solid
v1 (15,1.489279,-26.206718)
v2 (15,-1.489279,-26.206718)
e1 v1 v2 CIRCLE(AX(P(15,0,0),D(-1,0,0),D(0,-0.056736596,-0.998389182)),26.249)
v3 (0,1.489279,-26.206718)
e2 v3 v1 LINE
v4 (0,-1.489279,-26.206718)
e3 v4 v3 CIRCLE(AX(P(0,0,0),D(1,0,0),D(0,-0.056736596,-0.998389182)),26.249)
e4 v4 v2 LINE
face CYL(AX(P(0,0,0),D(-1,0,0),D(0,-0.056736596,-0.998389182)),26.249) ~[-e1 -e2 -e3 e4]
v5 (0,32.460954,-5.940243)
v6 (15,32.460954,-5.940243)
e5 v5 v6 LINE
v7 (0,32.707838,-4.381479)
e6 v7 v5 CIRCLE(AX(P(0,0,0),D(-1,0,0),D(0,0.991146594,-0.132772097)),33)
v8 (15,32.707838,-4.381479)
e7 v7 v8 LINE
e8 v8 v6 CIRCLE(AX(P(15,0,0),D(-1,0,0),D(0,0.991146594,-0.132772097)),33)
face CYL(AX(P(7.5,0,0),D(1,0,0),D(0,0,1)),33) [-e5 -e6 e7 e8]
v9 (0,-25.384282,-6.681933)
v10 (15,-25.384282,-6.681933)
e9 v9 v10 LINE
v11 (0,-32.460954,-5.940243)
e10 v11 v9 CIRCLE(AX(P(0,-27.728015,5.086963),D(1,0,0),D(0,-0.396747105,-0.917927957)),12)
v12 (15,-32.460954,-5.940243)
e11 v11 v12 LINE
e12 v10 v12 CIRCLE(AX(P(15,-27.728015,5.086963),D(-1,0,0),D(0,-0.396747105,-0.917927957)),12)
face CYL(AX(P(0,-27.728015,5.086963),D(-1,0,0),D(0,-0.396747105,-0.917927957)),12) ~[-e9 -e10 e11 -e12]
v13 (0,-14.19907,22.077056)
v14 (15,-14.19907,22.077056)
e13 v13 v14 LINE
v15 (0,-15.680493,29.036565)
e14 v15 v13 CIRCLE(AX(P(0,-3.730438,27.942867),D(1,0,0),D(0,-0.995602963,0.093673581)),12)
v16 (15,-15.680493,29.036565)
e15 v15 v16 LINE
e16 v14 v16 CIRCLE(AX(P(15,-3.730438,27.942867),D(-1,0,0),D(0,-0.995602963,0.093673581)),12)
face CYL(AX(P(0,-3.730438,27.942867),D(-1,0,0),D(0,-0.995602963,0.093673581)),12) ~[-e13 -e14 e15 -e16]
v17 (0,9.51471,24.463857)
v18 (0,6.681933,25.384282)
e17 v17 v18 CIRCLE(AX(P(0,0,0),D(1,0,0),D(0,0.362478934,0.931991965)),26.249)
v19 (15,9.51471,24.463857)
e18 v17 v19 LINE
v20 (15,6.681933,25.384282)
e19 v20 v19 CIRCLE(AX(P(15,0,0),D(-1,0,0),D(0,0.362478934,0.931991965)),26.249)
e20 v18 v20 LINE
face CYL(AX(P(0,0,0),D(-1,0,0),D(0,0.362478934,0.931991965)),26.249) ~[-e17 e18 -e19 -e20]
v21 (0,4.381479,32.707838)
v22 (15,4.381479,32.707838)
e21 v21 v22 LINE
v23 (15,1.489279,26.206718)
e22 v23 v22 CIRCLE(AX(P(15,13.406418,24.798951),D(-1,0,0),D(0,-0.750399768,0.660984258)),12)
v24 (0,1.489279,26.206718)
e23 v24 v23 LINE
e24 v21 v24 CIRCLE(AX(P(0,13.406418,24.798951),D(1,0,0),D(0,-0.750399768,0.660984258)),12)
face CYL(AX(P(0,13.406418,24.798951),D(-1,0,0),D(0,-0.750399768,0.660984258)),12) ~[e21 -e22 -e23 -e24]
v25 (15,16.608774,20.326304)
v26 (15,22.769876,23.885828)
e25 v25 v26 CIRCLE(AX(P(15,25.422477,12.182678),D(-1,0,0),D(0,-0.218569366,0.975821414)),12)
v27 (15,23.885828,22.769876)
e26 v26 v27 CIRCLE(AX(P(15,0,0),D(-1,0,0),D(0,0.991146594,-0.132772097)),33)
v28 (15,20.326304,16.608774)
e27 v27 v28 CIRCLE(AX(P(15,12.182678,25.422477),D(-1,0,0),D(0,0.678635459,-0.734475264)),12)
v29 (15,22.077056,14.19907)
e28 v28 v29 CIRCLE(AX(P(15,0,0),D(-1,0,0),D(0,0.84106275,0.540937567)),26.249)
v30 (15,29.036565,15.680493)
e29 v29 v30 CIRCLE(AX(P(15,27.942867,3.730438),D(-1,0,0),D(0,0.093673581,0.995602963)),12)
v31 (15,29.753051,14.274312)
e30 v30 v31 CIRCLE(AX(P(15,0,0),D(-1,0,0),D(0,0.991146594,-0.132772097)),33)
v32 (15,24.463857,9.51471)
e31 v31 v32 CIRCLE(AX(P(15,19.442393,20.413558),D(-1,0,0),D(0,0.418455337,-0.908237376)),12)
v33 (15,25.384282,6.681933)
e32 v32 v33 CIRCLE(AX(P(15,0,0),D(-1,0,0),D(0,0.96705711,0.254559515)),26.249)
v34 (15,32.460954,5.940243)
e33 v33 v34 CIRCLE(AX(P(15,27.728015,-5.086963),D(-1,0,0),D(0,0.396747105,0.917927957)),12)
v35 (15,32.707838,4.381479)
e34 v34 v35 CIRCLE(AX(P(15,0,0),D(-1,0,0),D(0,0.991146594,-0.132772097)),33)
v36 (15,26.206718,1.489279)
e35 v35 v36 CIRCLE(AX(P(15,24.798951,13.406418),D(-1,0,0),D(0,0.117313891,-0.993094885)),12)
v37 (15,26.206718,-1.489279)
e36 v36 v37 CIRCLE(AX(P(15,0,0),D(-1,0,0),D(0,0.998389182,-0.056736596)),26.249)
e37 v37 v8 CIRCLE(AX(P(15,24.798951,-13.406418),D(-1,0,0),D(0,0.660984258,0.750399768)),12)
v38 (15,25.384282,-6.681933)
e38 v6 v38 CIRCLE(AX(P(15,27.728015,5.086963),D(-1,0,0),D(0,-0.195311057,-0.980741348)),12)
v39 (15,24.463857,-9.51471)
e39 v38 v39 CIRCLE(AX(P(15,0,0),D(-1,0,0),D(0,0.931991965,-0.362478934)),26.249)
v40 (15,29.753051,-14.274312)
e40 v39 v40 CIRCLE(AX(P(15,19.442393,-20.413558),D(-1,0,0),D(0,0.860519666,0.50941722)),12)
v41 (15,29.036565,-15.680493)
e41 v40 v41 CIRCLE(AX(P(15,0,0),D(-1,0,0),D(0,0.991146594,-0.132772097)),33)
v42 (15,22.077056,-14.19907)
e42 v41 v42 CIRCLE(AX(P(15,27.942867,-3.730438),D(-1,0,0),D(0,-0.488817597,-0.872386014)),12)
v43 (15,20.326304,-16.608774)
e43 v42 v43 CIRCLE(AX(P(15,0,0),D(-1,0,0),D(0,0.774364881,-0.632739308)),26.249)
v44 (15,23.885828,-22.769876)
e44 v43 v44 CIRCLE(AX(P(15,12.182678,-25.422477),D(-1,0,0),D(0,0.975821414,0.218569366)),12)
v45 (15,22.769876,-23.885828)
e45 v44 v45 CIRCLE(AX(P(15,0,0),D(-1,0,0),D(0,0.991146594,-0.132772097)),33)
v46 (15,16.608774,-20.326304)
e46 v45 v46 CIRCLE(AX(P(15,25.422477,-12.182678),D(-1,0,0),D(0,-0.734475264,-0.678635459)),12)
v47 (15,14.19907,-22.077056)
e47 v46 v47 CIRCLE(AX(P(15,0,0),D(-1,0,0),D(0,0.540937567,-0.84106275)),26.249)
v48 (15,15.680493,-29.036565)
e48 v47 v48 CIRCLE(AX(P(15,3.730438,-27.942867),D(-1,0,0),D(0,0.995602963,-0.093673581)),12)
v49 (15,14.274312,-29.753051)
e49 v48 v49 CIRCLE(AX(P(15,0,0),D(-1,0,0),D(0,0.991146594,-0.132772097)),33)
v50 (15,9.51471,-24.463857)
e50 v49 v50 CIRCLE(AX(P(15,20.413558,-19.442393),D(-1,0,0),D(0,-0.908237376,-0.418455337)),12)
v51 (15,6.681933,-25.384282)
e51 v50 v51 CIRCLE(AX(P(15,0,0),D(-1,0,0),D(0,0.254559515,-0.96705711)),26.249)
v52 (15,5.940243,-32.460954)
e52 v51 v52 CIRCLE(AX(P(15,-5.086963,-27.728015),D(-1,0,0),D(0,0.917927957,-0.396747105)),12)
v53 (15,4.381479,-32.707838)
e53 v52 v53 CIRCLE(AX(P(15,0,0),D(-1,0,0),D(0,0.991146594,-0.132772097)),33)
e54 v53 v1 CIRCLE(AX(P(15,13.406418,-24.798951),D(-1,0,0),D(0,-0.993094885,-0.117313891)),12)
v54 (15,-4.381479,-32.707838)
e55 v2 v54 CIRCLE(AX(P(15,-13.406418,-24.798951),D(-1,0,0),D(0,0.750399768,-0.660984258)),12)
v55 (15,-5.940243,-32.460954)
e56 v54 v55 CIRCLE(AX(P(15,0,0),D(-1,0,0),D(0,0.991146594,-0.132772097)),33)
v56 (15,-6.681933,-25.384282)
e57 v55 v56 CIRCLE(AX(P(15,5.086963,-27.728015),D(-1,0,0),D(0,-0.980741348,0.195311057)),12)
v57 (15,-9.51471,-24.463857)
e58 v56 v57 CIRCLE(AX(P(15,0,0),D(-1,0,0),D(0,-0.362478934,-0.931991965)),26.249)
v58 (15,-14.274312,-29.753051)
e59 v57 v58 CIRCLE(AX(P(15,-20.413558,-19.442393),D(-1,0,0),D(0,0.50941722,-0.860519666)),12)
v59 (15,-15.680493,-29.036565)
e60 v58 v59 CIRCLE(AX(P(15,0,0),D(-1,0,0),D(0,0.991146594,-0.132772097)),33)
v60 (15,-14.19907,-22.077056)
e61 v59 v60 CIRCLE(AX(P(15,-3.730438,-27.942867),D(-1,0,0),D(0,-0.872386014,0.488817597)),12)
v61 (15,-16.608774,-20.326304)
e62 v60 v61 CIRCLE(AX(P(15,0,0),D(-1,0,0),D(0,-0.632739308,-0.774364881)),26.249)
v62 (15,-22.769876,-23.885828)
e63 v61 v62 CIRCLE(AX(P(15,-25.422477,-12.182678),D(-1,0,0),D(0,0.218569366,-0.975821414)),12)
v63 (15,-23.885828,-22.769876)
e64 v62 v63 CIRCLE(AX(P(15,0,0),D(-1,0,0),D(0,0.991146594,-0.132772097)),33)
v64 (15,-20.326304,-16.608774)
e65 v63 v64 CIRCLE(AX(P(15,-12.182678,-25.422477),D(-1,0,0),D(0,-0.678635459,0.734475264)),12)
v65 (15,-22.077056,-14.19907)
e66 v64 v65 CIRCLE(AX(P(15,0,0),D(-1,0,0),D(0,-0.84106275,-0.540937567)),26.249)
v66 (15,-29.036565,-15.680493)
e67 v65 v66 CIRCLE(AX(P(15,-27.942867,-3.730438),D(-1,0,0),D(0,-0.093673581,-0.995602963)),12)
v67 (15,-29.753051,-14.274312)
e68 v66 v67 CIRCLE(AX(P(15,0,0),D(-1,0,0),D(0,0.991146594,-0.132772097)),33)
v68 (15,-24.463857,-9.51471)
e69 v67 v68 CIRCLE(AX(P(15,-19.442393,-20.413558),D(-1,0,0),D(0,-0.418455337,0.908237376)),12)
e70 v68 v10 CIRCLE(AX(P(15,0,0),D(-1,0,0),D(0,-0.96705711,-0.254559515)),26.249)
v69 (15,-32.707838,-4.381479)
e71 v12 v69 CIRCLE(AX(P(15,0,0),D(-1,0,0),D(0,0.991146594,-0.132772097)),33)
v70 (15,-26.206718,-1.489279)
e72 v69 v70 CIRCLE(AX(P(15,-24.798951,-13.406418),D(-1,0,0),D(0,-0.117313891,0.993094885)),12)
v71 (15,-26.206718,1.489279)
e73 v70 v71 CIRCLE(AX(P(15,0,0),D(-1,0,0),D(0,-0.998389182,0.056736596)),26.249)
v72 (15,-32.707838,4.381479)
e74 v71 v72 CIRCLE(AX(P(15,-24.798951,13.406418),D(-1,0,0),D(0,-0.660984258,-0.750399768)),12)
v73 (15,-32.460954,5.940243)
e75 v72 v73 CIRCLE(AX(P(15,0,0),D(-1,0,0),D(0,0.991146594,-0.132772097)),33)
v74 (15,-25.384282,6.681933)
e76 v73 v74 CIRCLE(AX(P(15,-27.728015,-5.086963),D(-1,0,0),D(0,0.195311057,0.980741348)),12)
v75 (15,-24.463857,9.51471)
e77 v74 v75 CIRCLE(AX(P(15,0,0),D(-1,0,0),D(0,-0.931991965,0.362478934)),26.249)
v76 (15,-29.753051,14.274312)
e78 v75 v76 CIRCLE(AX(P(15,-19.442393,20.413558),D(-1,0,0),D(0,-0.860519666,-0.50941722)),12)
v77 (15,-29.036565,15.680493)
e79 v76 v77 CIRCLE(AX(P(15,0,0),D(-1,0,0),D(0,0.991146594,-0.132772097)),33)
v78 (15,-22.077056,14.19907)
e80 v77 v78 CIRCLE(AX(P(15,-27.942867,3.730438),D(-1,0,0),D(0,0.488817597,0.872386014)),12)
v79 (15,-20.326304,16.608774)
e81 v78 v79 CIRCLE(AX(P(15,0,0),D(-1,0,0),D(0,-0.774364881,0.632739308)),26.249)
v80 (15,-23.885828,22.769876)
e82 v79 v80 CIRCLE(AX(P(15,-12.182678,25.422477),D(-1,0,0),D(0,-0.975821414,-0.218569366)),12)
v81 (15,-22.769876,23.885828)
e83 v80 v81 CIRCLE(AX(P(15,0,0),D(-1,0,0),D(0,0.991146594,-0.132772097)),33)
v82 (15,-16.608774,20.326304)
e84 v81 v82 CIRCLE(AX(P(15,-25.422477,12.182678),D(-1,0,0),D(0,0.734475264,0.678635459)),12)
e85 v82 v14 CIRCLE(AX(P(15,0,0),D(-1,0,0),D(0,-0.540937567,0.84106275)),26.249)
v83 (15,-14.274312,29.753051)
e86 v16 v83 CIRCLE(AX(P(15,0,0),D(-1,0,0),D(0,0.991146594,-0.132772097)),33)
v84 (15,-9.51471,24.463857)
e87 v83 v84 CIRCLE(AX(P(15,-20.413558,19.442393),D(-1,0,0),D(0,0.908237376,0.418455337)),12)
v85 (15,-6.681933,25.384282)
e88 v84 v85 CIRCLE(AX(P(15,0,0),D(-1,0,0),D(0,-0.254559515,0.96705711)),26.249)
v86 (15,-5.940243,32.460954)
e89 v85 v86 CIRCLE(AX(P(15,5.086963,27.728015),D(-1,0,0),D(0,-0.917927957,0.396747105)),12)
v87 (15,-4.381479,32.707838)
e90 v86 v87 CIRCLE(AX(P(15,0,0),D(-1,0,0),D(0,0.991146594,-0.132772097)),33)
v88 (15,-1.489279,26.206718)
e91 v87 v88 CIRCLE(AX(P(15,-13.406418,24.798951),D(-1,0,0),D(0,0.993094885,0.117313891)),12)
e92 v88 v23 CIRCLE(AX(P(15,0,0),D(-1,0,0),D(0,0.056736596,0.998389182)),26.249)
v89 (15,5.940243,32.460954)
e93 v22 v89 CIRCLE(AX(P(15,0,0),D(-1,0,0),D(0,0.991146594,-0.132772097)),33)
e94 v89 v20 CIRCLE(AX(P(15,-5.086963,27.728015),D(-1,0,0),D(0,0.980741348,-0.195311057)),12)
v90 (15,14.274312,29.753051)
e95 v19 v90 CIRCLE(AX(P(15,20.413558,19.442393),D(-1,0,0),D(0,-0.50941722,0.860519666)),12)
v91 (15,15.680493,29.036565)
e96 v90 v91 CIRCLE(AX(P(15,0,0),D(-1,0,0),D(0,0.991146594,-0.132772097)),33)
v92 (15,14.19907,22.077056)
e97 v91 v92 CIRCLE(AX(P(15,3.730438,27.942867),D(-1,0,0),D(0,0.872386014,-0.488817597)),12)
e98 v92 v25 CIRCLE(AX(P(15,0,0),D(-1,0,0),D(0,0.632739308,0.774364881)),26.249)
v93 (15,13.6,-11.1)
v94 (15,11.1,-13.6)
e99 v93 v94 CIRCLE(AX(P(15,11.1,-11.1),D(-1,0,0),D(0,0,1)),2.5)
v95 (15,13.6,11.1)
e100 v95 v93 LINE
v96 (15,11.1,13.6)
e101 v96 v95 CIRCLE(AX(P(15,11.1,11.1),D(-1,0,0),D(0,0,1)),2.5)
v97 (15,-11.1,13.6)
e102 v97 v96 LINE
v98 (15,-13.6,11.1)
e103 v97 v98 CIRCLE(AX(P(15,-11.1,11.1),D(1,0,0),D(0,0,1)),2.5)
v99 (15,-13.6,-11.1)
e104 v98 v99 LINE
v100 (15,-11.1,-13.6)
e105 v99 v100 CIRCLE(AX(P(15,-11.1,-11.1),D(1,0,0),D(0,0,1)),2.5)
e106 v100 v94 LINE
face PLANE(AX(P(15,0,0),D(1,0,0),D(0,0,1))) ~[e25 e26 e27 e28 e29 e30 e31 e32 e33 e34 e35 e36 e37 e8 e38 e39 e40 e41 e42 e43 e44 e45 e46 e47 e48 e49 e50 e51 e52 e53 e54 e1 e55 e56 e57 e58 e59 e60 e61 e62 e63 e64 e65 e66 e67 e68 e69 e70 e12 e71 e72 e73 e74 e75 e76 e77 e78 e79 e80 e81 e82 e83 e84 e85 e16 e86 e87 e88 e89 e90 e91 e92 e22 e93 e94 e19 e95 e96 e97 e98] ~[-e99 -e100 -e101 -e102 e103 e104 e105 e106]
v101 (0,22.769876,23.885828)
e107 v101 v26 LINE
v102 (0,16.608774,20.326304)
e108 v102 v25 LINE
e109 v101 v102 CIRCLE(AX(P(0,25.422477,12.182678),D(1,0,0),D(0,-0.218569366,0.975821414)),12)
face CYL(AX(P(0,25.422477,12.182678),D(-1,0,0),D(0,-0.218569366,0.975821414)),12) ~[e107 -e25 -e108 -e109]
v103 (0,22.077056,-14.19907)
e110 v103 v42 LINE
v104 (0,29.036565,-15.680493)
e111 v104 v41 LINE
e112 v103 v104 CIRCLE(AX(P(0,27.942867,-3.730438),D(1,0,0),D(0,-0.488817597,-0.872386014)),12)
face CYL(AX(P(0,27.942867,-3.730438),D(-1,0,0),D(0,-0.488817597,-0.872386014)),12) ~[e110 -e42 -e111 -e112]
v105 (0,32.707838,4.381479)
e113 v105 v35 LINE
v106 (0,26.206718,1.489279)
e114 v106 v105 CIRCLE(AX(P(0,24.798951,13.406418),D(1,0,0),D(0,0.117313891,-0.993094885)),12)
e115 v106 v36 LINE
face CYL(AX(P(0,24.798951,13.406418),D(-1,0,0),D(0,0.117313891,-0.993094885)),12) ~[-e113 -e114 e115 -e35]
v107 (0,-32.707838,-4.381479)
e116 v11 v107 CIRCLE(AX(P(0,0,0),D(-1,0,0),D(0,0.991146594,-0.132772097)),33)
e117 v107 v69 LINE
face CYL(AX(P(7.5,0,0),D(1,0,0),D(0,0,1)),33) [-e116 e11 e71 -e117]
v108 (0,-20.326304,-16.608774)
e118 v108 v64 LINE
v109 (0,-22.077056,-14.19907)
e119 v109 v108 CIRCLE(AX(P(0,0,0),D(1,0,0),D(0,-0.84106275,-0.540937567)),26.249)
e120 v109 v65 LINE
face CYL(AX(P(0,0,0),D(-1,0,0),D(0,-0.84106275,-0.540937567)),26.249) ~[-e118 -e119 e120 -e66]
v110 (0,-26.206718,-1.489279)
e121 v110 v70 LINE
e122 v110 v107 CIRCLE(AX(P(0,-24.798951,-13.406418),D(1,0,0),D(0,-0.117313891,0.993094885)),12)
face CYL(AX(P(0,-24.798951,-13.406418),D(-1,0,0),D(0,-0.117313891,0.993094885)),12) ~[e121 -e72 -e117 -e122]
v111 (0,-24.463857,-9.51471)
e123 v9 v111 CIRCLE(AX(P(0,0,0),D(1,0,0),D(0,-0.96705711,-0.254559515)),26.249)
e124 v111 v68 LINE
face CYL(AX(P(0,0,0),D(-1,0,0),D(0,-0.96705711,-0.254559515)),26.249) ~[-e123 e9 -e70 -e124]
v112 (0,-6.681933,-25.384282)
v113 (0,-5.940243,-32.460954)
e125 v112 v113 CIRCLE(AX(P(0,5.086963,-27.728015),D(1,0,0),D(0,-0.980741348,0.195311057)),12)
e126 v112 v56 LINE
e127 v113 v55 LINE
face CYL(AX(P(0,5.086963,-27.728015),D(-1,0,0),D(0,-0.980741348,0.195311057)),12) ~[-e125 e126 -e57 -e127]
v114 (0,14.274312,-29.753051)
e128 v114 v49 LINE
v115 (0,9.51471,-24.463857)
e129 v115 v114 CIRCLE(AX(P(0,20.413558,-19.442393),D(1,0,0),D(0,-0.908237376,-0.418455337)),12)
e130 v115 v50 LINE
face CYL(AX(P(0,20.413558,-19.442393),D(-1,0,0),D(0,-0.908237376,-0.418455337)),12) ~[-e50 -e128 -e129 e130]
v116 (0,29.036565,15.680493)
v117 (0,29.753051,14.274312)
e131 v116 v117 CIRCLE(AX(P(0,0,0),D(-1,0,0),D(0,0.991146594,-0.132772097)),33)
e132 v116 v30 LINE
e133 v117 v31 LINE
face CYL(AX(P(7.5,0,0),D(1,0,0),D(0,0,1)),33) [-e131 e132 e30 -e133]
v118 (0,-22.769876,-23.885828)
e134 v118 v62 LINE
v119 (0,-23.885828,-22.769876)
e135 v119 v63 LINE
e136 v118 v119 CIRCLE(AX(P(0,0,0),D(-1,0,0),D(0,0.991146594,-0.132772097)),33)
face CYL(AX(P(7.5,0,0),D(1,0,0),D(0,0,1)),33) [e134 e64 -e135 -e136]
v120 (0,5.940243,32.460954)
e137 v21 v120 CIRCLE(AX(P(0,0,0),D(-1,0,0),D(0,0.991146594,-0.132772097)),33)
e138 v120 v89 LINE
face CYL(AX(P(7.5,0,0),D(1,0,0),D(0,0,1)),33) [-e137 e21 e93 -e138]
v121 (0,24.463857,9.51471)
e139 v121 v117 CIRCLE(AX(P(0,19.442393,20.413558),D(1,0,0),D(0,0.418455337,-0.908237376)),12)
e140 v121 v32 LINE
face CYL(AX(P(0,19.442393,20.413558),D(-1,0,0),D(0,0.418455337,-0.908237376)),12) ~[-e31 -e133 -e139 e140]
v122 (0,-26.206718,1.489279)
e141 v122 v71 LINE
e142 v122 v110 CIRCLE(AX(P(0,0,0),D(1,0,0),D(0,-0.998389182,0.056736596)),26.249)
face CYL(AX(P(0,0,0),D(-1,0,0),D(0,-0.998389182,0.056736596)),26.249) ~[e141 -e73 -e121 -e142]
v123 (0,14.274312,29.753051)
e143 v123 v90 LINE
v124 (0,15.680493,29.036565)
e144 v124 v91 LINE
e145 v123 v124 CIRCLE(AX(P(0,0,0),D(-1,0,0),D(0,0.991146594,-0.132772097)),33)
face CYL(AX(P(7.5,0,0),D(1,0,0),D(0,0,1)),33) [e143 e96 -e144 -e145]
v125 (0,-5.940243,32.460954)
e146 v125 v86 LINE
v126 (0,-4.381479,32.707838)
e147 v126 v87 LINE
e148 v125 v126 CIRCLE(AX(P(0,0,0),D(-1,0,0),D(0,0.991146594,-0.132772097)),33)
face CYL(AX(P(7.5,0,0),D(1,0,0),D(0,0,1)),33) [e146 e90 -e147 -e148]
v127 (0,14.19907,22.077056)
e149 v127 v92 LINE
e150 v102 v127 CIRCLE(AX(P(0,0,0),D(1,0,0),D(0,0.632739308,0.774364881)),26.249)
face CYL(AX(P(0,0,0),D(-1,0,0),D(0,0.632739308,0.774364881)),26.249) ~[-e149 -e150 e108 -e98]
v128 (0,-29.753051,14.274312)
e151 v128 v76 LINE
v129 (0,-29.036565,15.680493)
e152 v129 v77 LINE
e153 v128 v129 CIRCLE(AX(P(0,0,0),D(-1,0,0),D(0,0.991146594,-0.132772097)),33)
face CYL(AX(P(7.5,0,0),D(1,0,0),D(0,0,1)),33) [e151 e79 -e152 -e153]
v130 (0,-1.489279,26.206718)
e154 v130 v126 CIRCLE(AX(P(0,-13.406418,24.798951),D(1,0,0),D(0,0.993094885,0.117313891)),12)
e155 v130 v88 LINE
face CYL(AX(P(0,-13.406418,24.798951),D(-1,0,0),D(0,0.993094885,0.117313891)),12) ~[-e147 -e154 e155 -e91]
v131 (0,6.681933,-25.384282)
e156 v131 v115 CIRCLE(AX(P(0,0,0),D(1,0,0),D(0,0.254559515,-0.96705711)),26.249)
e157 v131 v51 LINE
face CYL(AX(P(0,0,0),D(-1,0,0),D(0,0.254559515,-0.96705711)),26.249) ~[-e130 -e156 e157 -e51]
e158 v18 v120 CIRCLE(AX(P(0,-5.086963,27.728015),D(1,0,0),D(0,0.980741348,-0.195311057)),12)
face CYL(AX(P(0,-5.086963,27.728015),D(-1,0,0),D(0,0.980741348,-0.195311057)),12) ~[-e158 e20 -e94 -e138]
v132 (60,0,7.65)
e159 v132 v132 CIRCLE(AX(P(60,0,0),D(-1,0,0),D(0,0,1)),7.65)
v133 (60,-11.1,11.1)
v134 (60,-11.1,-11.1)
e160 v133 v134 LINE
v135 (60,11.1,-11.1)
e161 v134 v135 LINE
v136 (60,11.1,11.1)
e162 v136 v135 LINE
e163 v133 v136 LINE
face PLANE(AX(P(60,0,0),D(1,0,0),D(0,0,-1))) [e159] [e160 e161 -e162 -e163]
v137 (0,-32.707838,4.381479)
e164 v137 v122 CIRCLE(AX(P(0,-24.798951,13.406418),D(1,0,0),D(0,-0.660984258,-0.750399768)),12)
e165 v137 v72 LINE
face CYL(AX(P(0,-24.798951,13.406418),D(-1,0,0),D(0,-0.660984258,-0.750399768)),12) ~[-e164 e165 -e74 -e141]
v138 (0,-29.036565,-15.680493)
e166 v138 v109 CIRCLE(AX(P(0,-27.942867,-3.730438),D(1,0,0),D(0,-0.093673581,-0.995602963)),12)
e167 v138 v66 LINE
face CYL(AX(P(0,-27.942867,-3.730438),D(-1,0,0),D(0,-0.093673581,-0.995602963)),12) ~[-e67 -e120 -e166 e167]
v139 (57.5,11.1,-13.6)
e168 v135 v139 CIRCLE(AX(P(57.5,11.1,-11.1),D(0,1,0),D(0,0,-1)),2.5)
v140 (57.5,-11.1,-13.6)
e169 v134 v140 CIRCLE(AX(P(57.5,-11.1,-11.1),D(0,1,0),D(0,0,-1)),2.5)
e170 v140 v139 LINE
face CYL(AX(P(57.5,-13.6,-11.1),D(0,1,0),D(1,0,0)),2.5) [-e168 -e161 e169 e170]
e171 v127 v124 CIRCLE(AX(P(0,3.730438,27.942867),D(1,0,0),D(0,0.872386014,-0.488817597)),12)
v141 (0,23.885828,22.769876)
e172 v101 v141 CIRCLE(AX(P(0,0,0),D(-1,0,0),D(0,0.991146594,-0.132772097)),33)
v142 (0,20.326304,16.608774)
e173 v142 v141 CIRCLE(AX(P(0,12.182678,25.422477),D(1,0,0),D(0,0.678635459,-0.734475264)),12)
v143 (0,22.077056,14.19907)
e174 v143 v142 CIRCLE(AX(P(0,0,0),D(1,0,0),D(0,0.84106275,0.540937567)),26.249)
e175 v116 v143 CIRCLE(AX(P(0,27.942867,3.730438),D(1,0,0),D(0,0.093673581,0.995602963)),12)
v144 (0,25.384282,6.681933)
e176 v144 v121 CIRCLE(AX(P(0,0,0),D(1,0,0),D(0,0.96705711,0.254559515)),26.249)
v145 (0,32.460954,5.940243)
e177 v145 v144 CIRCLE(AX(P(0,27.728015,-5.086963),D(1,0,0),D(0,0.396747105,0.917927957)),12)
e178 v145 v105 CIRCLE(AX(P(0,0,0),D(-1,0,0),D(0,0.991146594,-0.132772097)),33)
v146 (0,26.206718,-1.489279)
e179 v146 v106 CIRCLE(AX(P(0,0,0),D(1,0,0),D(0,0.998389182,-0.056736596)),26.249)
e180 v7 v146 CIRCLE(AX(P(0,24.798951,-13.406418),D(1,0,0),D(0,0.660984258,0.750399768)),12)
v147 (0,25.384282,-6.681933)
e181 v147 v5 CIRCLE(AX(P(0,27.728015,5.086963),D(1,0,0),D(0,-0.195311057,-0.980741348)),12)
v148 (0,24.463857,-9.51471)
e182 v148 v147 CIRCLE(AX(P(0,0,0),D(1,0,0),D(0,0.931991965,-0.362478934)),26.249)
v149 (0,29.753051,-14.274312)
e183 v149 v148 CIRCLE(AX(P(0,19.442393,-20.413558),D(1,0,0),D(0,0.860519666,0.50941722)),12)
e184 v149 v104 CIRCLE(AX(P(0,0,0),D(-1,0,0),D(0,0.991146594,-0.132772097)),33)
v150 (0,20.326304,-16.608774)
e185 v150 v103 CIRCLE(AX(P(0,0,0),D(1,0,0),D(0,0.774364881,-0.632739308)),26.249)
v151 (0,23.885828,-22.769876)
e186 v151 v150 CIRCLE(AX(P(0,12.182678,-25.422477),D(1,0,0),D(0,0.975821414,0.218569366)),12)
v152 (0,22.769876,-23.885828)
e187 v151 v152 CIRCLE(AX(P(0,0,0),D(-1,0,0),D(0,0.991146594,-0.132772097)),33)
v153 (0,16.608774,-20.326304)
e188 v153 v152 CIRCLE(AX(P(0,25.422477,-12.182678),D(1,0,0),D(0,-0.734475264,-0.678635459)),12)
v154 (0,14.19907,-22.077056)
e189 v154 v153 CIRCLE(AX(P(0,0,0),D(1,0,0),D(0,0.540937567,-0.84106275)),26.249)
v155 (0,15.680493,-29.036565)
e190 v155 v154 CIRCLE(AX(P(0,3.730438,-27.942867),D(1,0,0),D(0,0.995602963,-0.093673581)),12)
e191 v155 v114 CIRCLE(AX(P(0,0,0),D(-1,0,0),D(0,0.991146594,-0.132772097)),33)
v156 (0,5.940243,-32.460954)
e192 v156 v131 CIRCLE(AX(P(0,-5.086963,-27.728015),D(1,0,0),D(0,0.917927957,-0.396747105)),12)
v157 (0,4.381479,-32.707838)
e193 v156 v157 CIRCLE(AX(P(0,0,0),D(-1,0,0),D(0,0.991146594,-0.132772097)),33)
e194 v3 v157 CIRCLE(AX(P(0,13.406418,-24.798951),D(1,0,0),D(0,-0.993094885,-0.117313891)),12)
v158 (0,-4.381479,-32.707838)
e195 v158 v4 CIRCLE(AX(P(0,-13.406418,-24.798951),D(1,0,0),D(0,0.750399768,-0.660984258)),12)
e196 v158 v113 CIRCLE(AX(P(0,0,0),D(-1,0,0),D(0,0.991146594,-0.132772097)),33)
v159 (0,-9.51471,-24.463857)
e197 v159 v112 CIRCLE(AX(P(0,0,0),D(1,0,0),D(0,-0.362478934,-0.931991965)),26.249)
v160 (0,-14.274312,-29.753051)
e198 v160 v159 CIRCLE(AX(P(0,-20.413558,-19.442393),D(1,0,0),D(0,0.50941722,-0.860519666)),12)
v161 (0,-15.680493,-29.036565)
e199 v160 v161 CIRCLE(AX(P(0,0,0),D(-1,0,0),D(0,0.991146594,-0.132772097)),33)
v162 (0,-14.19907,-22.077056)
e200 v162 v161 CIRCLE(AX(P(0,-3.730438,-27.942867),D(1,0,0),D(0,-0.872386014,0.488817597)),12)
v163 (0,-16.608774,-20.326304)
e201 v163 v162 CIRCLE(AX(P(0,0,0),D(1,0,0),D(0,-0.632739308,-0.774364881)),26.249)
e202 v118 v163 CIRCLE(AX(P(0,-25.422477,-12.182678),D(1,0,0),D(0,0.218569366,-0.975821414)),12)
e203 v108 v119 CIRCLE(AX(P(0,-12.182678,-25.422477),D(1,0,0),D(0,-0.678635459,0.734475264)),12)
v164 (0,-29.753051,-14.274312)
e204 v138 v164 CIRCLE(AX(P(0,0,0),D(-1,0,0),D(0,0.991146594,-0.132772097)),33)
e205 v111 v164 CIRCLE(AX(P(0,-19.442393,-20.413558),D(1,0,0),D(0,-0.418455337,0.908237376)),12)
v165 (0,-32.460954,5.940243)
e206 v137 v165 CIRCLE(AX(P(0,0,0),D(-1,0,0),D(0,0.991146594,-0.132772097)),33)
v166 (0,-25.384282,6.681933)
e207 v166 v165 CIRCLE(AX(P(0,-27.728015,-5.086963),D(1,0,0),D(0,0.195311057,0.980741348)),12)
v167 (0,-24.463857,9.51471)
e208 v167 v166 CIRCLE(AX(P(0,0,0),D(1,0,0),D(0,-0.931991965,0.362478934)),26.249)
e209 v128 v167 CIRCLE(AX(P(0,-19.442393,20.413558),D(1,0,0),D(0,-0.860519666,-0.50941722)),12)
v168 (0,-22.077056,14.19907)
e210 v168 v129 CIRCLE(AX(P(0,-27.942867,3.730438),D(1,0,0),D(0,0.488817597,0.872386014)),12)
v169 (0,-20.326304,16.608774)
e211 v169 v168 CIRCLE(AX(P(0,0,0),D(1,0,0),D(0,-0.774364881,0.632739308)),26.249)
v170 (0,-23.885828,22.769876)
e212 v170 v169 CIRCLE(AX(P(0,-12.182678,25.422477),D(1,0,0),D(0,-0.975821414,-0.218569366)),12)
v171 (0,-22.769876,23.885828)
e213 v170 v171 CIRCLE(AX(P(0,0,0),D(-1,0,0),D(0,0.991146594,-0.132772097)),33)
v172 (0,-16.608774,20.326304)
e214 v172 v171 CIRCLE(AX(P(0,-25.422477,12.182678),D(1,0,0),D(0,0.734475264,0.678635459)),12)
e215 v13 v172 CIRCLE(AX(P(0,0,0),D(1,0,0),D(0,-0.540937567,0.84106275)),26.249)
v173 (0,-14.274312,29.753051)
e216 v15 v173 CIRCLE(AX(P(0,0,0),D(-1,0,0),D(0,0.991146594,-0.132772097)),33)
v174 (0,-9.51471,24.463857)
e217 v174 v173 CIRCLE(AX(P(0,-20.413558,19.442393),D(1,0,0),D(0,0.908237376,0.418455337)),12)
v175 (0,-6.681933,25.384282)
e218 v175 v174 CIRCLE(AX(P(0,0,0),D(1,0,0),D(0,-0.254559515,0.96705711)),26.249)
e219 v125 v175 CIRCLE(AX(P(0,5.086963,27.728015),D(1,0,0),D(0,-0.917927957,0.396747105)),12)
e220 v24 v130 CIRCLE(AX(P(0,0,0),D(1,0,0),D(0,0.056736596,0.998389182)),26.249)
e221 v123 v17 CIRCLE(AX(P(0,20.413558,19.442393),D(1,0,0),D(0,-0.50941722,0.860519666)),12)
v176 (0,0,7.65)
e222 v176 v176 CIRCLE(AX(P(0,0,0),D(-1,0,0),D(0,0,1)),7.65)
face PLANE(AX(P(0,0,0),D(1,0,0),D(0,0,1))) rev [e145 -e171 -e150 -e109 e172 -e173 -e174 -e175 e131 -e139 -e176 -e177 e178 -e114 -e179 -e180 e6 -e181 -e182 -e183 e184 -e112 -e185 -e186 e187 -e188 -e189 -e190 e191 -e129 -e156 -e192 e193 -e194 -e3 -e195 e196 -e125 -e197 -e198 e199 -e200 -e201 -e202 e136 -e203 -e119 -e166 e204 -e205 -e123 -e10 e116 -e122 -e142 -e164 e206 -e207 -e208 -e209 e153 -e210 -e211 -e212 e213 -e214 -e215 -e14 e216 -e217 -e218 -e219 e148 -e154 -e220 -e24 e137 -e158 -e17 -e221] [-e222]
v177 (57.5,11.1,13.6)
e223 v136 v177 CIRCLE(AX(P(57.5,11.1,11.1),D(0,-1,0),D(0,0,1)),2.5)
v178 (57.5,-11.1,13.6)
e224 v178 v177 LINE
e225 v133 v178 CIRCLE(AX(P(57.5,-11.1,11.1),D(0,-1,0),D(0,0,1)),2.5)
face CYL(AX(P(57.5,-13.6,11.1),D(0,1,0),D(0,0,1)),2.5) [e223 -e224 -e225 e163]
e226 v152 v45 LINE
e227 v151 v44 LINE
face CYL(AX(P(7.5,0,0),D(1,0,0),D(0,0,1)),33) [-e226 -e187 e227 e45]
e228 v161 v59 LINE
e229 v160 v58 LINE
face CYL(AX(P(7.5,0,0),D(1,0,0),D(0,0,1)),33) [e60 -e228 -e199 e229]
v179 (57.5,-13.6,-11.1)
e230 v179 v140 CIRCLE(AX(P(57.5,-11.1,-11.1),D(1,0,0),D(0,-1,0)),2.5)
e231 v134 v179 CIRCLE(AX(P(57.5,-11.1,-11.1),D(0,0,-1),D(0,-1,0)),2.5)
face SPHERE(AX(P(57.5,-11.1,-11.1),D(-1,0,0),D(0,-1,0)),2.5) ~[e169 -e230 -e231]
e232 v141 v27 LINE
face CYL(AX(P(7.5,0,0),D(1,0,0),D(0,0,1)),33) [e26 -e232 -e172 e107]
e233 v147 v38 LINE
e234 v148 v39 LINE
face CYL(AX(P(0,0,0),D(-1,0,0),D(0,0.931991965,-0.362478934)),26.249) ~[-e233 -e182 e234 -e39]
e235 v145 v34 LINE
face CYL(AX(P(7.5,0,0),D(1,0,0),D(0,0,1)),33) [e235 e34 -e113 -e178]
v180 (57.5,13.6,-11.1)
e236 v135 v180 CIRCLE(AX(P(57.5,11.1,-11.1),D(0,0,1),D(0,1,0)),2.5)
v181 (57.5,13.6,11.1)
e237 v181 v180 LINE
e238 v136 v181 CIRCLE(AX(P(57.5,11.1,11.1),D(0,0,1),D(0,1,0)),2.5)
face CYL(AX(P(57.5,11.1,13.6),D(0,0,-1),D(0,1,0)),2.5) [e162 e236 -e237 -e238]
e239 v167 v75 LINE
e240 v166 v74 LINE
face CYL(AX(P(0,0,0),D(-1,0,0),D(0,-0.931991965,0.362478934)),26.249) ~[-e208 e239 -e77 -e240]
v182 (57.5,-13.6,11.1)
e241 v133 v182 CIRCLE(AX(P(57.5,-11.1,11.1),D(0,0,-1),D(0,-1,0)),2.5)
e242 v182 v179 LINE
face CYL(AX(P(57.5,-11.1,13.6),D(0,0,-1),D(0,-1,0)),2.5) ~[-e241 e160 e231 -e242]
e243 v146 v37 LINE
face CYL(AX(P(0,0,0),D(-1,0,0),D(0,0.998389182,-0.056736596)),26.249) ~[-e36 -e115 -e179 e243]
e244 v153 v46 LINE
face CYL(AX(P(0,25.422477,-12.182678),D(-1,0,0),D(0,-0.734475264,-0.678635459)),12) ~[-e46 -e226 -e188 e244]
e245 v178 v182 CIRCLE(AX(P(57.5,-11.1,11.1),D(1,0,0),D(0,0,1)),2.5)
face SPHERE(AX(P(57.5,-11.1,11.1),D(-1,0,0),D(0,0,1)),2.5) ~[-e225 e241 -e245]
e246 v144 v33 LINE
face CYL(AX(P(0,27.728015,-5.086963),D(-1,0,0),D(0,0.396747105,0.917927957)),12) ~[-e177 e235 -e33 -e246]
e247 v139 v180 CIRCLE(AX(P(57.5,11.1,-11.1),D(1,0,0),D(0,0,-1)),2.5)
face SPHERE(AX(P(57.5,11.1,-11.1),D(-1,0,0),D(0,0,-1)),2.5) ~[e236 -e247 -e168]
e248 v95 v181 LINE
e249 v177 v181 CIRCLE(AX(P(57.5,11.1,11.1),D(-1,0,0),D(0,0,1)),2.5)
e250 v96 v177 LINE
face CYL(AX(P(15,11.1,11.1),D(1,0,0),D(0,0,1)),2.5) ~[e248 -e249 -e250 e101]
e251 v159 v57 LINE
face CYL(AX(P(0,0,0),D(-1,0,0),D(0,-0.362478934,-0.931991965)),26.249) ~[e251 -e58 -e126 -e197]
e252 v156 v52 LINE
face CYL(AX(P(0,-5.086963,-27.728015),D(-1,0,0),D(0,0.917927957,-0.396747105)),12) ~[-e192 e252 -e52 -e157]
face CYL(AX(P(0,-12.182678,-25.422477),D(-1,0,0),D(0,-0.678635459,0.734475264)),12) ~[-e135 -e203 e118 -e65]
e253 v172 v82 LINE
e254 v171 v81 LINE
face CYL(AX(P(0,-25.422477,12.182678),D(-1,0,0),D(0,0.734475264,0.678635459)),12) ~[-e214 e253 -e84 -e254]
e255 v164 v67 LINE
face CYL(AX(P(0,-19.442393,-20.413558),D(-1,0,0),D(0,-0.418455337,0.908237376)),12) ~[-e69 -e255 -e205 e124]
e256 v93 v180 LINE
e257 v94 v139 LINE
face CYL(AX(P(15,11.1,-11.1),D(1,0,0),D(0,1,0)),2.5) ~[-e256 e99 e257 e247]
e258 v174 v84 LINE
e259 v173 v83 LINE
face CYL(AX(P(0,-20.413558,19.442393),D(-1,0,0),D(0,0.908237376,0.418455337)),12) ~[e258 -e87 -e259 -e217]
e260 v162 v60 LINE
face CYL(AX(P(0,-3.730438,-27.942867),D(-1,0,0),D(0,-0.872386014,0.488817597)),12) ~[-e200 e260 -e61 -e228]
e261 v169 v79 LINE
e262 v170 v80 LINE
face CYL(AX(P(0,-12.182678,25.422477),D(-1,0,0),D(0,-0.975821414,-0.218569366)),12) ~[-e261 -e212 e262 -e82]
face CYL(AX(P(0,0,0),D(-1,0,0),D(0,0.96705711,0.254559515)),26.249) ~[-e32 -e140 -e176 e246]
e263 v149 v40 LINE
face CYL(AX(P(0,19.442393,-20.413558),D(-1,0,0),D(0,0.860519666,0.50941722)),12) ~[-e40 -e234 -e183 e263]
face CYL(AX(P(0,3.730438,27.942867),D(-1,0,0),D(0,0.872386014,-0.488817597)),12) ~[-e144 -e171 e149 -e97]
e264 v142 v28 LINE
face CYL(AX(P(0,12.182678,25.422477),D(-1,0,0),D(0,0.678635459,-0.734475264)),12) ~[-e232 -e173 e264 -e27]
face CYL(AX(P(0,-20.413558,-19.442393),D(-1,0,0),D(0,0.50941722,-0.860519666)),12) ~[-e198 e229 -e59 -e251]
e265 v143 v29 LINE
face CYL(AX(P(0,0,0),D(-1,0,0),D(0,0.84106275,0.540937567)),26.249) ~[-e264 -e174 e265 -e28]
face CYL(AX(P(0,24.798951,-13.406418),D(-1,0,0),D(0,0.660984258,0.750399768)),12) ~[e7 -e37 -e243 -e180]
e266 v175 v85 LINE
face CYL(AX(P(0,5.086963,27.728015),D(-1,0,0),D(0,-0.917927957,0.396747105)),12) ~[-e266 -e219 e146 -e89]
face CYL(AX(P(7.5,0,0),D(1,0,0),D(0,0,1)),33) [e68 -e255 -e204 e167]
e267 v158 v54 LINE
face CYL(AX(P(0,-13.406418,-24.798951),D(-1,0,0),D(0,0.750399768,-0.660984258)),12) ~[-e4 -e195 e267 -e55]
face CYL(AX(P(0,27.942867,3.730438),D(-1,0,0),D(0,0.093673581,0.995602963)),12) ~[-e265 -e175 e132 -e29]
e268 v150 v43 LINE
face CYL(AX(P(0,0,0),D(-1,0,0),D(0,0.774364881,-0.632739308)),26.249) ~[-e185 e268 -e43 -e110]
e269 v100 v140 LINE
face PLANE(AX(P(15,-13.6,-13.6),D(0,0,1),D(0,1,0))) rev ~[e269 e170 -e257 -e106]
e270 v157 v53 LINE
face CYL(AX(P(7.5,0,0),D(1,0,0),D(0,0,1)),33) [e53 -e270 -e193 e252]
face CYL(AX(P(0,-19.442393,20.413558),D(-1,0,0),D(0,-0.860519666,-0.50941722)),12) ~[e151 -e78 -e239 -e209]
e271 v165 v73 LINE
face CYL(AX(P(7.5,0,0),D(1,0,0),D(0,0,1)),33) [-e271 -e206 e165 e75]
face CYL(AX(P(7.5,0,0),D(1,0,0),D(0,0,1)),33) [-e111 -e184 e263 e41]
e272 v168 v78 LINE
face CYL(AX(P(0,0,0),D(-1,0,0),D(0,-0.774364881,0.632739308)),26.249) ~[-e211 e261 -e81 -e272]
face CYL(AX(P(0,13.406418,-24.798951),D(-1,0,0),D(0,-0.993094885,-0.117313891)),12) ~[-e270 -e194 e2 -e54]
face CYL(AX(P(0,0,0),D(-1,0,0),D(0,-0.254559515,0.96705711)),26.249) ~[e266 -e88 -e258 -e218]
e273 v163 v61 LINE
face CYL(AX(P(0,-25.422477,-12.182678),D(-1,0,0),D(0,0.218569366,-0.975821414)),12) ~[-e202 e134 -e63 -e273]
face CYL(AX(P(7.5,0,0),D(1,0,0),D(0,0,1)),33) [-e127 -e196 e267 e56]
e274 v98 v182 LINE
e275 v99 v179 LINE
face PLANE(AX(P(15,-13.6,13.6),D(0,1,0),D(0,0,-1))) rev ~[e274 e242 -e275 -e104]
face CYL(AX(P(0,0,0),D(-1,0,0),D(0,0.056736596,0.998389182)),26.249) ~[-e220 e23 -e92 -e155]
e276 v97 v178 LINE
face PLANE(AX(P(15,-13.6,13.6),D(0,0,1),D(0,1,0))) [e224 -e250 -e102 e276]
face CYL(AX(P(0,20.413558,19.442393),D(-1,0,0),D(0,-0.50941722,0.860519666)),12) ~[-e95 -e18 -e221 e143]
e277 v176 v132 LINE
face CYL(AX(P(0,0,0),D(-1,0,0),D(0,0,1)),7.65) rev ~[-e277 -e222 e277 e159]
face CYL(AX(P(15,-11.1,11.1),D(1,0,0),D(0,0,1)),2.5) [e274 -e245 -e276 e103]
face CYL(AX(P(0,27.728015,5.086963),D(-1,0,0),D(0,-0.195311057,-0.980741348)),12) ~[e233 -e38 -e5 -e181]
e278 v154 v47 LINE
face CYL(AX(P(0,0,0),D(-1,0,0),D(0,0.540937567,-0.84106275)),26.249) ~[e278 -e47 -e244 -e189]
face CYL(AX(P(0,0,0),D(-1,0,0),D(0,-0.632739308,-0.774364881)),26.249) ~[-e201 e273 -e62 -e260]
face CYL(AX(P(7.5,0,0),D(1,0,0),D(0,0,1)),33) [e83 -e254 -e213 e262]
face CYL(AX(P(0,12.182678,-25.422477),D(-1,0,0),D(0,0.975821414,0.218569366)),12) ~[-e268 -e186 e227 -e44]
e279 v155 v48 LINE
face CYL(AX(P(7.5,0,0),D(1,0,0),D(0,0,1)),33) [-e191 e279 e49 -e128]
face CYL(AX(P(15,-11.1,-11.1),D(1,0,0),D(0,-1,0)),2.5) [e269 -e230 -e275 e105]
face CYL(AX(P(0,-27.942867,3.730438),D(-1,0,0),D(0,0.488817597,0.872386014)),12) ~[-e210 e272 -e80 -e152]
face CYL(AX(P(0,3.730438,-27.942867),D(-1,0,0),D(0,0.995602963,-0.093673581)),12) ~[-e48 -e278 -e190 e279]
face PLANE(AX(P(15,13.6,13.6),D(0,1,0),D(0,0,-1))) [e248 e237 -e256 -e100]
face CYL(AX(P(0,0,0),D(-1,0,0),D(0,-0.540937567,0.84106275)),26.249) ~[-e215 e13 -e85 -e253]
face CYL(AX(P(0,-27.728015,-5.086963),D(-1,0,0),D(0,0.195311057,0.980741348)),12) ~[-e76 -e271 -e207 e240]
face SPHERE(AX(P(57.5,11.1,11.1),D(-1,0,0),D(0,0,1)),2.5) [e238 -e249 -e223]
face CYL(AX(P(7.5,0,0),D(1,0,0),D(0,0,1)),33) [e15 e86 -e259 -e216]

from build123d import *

# Parameters (mm, degrees)
BASPROSKE_W         = 15
BASPROSKE_H         = 33
TOOTHCUT_DEPTH      = 50.020403915
TEETHCUTS_COUNT     = 20
TEETHCUTS_ANGLE     = 342
BORSKE_R            = 2
BORE_DEPTH          = 50.0000508
SKETCH1_W           = 27.2
SKETCH1_H           = 27.2
BOSS_EXTRUDE1_DEPTH = 45
SKETCH2_R           = 7.65
CUT_EXTRUDE1_DEPTH  = 60
FILLET2_R           = 2.5


with BuildPart() as part:
    # BasProSke → Base-Revolve (revolve)
    with BuildSketch(Plane(origin=(0, 0, 0), x_dir=(1, 0, 0), z_dir=(0, 1, 0)), mode=Mode.PRIVATE) as base_revolve_sk:
        with Locations((7.5, 16.5)):
            Rectangle(BASPROSKE_W, BASPROSKE_H)
    revolve(base_revolve_sk.sketch.rotate(Axis((-10, 0, 0), (1, 0, 0)), 180), axis=Axis((-10, 0, 0), (1, 0, 0)))

    # TooCutSke → ToothCut (cut, through all)
    with BuildSketch(Plane(origin=(0, 0, 0), x_dir=(0, 0, -1), z_dir=(1, 0, 0))):
        with BuildLine():
            ThreePointArc((1.489278925, 26.206717637), (0, 26.249), (-1.489278925, 26.206717637))
            ThreePointArc((-1.489278925, 26.206717637), (-2.448651415, 29.690511169), (-4.401620335, 32.730762038))
            ThreePointArc((-4.401620335, 32.730762038), (0, 33.0254), (4.401620335, 32.730762038))
            ThreePointArc((4.401620335, 32.730762038), (2.448651415, 29.690511169), (1.489278925, 26.206717637))
        make_face()
    toothcut = extrude(amount=TOOTHCUT_DEPTH, mode=Mode.SUBTRACT)

    # TeethCuts: ToothCut ×20 about axis
    teethcuts_axis = Axis((-10, 0, 0), (1, 0, 0))
    for i in range(1, TEETHCUTS_COUNT):
        add(toothcut.rotate(teethcuts_axis, i * TEETHCUTS_ANGLE / (TEETHCUTS_COUNT - 1)), mode=Mode.SUBTRACT)

    # BorSke → Bore (cut, symmetric)
    with BuildSketch(Plane(origin=(0, 0, 0), x_dir=(0, 0, -1), z_dir=(1, 0, 0))):
        with Locations(Location((0, 0, 0), (0, 0, 180))):
            Circle(BORSKE_R)
    extrude(amount=BORE_DEPTH, both=True, mode=Mode.SUBTRACT)

    # Sketch1 → Boss-Extrude1 (add)
    with BuildSketch(Plane(origin=(15, 0, 0), x_dir=(0, 0, -1), z_dir=(1, 0, 0))):
        Rectangle(SKETCH1_W, SKETCH1_H)
    extrude(amount=BOSS_EXTRUDE1_DEPTH)

    # Sketch2 → Cut-Extrude1 (cut)
    with BuildSketch(Plane.ZY):
        Circle(SKETCH2_R)
    extrude(amount=-CUT_EXTRUDE1_DEPTH, mode=Mode.SUBTRACT)

    # Fillet2
    fillet2_edges = [part.edges().sort_by_distance(p)[0] for p in [
        (37.5, 13.6, 13.6),
        (37.5, -13.6, 13.6),
        (37.5, -13.6, -13.6),
        (37.5, 13.6, -13.6),
        (60, 0, 13.6),
        (60, -13.6, 0),
        (60, 0, -13.6),
        (60, 13.6, 0),
    ]]
    fillet(fillet2_edges, radius=FILLET2_R)


solid = part.part
